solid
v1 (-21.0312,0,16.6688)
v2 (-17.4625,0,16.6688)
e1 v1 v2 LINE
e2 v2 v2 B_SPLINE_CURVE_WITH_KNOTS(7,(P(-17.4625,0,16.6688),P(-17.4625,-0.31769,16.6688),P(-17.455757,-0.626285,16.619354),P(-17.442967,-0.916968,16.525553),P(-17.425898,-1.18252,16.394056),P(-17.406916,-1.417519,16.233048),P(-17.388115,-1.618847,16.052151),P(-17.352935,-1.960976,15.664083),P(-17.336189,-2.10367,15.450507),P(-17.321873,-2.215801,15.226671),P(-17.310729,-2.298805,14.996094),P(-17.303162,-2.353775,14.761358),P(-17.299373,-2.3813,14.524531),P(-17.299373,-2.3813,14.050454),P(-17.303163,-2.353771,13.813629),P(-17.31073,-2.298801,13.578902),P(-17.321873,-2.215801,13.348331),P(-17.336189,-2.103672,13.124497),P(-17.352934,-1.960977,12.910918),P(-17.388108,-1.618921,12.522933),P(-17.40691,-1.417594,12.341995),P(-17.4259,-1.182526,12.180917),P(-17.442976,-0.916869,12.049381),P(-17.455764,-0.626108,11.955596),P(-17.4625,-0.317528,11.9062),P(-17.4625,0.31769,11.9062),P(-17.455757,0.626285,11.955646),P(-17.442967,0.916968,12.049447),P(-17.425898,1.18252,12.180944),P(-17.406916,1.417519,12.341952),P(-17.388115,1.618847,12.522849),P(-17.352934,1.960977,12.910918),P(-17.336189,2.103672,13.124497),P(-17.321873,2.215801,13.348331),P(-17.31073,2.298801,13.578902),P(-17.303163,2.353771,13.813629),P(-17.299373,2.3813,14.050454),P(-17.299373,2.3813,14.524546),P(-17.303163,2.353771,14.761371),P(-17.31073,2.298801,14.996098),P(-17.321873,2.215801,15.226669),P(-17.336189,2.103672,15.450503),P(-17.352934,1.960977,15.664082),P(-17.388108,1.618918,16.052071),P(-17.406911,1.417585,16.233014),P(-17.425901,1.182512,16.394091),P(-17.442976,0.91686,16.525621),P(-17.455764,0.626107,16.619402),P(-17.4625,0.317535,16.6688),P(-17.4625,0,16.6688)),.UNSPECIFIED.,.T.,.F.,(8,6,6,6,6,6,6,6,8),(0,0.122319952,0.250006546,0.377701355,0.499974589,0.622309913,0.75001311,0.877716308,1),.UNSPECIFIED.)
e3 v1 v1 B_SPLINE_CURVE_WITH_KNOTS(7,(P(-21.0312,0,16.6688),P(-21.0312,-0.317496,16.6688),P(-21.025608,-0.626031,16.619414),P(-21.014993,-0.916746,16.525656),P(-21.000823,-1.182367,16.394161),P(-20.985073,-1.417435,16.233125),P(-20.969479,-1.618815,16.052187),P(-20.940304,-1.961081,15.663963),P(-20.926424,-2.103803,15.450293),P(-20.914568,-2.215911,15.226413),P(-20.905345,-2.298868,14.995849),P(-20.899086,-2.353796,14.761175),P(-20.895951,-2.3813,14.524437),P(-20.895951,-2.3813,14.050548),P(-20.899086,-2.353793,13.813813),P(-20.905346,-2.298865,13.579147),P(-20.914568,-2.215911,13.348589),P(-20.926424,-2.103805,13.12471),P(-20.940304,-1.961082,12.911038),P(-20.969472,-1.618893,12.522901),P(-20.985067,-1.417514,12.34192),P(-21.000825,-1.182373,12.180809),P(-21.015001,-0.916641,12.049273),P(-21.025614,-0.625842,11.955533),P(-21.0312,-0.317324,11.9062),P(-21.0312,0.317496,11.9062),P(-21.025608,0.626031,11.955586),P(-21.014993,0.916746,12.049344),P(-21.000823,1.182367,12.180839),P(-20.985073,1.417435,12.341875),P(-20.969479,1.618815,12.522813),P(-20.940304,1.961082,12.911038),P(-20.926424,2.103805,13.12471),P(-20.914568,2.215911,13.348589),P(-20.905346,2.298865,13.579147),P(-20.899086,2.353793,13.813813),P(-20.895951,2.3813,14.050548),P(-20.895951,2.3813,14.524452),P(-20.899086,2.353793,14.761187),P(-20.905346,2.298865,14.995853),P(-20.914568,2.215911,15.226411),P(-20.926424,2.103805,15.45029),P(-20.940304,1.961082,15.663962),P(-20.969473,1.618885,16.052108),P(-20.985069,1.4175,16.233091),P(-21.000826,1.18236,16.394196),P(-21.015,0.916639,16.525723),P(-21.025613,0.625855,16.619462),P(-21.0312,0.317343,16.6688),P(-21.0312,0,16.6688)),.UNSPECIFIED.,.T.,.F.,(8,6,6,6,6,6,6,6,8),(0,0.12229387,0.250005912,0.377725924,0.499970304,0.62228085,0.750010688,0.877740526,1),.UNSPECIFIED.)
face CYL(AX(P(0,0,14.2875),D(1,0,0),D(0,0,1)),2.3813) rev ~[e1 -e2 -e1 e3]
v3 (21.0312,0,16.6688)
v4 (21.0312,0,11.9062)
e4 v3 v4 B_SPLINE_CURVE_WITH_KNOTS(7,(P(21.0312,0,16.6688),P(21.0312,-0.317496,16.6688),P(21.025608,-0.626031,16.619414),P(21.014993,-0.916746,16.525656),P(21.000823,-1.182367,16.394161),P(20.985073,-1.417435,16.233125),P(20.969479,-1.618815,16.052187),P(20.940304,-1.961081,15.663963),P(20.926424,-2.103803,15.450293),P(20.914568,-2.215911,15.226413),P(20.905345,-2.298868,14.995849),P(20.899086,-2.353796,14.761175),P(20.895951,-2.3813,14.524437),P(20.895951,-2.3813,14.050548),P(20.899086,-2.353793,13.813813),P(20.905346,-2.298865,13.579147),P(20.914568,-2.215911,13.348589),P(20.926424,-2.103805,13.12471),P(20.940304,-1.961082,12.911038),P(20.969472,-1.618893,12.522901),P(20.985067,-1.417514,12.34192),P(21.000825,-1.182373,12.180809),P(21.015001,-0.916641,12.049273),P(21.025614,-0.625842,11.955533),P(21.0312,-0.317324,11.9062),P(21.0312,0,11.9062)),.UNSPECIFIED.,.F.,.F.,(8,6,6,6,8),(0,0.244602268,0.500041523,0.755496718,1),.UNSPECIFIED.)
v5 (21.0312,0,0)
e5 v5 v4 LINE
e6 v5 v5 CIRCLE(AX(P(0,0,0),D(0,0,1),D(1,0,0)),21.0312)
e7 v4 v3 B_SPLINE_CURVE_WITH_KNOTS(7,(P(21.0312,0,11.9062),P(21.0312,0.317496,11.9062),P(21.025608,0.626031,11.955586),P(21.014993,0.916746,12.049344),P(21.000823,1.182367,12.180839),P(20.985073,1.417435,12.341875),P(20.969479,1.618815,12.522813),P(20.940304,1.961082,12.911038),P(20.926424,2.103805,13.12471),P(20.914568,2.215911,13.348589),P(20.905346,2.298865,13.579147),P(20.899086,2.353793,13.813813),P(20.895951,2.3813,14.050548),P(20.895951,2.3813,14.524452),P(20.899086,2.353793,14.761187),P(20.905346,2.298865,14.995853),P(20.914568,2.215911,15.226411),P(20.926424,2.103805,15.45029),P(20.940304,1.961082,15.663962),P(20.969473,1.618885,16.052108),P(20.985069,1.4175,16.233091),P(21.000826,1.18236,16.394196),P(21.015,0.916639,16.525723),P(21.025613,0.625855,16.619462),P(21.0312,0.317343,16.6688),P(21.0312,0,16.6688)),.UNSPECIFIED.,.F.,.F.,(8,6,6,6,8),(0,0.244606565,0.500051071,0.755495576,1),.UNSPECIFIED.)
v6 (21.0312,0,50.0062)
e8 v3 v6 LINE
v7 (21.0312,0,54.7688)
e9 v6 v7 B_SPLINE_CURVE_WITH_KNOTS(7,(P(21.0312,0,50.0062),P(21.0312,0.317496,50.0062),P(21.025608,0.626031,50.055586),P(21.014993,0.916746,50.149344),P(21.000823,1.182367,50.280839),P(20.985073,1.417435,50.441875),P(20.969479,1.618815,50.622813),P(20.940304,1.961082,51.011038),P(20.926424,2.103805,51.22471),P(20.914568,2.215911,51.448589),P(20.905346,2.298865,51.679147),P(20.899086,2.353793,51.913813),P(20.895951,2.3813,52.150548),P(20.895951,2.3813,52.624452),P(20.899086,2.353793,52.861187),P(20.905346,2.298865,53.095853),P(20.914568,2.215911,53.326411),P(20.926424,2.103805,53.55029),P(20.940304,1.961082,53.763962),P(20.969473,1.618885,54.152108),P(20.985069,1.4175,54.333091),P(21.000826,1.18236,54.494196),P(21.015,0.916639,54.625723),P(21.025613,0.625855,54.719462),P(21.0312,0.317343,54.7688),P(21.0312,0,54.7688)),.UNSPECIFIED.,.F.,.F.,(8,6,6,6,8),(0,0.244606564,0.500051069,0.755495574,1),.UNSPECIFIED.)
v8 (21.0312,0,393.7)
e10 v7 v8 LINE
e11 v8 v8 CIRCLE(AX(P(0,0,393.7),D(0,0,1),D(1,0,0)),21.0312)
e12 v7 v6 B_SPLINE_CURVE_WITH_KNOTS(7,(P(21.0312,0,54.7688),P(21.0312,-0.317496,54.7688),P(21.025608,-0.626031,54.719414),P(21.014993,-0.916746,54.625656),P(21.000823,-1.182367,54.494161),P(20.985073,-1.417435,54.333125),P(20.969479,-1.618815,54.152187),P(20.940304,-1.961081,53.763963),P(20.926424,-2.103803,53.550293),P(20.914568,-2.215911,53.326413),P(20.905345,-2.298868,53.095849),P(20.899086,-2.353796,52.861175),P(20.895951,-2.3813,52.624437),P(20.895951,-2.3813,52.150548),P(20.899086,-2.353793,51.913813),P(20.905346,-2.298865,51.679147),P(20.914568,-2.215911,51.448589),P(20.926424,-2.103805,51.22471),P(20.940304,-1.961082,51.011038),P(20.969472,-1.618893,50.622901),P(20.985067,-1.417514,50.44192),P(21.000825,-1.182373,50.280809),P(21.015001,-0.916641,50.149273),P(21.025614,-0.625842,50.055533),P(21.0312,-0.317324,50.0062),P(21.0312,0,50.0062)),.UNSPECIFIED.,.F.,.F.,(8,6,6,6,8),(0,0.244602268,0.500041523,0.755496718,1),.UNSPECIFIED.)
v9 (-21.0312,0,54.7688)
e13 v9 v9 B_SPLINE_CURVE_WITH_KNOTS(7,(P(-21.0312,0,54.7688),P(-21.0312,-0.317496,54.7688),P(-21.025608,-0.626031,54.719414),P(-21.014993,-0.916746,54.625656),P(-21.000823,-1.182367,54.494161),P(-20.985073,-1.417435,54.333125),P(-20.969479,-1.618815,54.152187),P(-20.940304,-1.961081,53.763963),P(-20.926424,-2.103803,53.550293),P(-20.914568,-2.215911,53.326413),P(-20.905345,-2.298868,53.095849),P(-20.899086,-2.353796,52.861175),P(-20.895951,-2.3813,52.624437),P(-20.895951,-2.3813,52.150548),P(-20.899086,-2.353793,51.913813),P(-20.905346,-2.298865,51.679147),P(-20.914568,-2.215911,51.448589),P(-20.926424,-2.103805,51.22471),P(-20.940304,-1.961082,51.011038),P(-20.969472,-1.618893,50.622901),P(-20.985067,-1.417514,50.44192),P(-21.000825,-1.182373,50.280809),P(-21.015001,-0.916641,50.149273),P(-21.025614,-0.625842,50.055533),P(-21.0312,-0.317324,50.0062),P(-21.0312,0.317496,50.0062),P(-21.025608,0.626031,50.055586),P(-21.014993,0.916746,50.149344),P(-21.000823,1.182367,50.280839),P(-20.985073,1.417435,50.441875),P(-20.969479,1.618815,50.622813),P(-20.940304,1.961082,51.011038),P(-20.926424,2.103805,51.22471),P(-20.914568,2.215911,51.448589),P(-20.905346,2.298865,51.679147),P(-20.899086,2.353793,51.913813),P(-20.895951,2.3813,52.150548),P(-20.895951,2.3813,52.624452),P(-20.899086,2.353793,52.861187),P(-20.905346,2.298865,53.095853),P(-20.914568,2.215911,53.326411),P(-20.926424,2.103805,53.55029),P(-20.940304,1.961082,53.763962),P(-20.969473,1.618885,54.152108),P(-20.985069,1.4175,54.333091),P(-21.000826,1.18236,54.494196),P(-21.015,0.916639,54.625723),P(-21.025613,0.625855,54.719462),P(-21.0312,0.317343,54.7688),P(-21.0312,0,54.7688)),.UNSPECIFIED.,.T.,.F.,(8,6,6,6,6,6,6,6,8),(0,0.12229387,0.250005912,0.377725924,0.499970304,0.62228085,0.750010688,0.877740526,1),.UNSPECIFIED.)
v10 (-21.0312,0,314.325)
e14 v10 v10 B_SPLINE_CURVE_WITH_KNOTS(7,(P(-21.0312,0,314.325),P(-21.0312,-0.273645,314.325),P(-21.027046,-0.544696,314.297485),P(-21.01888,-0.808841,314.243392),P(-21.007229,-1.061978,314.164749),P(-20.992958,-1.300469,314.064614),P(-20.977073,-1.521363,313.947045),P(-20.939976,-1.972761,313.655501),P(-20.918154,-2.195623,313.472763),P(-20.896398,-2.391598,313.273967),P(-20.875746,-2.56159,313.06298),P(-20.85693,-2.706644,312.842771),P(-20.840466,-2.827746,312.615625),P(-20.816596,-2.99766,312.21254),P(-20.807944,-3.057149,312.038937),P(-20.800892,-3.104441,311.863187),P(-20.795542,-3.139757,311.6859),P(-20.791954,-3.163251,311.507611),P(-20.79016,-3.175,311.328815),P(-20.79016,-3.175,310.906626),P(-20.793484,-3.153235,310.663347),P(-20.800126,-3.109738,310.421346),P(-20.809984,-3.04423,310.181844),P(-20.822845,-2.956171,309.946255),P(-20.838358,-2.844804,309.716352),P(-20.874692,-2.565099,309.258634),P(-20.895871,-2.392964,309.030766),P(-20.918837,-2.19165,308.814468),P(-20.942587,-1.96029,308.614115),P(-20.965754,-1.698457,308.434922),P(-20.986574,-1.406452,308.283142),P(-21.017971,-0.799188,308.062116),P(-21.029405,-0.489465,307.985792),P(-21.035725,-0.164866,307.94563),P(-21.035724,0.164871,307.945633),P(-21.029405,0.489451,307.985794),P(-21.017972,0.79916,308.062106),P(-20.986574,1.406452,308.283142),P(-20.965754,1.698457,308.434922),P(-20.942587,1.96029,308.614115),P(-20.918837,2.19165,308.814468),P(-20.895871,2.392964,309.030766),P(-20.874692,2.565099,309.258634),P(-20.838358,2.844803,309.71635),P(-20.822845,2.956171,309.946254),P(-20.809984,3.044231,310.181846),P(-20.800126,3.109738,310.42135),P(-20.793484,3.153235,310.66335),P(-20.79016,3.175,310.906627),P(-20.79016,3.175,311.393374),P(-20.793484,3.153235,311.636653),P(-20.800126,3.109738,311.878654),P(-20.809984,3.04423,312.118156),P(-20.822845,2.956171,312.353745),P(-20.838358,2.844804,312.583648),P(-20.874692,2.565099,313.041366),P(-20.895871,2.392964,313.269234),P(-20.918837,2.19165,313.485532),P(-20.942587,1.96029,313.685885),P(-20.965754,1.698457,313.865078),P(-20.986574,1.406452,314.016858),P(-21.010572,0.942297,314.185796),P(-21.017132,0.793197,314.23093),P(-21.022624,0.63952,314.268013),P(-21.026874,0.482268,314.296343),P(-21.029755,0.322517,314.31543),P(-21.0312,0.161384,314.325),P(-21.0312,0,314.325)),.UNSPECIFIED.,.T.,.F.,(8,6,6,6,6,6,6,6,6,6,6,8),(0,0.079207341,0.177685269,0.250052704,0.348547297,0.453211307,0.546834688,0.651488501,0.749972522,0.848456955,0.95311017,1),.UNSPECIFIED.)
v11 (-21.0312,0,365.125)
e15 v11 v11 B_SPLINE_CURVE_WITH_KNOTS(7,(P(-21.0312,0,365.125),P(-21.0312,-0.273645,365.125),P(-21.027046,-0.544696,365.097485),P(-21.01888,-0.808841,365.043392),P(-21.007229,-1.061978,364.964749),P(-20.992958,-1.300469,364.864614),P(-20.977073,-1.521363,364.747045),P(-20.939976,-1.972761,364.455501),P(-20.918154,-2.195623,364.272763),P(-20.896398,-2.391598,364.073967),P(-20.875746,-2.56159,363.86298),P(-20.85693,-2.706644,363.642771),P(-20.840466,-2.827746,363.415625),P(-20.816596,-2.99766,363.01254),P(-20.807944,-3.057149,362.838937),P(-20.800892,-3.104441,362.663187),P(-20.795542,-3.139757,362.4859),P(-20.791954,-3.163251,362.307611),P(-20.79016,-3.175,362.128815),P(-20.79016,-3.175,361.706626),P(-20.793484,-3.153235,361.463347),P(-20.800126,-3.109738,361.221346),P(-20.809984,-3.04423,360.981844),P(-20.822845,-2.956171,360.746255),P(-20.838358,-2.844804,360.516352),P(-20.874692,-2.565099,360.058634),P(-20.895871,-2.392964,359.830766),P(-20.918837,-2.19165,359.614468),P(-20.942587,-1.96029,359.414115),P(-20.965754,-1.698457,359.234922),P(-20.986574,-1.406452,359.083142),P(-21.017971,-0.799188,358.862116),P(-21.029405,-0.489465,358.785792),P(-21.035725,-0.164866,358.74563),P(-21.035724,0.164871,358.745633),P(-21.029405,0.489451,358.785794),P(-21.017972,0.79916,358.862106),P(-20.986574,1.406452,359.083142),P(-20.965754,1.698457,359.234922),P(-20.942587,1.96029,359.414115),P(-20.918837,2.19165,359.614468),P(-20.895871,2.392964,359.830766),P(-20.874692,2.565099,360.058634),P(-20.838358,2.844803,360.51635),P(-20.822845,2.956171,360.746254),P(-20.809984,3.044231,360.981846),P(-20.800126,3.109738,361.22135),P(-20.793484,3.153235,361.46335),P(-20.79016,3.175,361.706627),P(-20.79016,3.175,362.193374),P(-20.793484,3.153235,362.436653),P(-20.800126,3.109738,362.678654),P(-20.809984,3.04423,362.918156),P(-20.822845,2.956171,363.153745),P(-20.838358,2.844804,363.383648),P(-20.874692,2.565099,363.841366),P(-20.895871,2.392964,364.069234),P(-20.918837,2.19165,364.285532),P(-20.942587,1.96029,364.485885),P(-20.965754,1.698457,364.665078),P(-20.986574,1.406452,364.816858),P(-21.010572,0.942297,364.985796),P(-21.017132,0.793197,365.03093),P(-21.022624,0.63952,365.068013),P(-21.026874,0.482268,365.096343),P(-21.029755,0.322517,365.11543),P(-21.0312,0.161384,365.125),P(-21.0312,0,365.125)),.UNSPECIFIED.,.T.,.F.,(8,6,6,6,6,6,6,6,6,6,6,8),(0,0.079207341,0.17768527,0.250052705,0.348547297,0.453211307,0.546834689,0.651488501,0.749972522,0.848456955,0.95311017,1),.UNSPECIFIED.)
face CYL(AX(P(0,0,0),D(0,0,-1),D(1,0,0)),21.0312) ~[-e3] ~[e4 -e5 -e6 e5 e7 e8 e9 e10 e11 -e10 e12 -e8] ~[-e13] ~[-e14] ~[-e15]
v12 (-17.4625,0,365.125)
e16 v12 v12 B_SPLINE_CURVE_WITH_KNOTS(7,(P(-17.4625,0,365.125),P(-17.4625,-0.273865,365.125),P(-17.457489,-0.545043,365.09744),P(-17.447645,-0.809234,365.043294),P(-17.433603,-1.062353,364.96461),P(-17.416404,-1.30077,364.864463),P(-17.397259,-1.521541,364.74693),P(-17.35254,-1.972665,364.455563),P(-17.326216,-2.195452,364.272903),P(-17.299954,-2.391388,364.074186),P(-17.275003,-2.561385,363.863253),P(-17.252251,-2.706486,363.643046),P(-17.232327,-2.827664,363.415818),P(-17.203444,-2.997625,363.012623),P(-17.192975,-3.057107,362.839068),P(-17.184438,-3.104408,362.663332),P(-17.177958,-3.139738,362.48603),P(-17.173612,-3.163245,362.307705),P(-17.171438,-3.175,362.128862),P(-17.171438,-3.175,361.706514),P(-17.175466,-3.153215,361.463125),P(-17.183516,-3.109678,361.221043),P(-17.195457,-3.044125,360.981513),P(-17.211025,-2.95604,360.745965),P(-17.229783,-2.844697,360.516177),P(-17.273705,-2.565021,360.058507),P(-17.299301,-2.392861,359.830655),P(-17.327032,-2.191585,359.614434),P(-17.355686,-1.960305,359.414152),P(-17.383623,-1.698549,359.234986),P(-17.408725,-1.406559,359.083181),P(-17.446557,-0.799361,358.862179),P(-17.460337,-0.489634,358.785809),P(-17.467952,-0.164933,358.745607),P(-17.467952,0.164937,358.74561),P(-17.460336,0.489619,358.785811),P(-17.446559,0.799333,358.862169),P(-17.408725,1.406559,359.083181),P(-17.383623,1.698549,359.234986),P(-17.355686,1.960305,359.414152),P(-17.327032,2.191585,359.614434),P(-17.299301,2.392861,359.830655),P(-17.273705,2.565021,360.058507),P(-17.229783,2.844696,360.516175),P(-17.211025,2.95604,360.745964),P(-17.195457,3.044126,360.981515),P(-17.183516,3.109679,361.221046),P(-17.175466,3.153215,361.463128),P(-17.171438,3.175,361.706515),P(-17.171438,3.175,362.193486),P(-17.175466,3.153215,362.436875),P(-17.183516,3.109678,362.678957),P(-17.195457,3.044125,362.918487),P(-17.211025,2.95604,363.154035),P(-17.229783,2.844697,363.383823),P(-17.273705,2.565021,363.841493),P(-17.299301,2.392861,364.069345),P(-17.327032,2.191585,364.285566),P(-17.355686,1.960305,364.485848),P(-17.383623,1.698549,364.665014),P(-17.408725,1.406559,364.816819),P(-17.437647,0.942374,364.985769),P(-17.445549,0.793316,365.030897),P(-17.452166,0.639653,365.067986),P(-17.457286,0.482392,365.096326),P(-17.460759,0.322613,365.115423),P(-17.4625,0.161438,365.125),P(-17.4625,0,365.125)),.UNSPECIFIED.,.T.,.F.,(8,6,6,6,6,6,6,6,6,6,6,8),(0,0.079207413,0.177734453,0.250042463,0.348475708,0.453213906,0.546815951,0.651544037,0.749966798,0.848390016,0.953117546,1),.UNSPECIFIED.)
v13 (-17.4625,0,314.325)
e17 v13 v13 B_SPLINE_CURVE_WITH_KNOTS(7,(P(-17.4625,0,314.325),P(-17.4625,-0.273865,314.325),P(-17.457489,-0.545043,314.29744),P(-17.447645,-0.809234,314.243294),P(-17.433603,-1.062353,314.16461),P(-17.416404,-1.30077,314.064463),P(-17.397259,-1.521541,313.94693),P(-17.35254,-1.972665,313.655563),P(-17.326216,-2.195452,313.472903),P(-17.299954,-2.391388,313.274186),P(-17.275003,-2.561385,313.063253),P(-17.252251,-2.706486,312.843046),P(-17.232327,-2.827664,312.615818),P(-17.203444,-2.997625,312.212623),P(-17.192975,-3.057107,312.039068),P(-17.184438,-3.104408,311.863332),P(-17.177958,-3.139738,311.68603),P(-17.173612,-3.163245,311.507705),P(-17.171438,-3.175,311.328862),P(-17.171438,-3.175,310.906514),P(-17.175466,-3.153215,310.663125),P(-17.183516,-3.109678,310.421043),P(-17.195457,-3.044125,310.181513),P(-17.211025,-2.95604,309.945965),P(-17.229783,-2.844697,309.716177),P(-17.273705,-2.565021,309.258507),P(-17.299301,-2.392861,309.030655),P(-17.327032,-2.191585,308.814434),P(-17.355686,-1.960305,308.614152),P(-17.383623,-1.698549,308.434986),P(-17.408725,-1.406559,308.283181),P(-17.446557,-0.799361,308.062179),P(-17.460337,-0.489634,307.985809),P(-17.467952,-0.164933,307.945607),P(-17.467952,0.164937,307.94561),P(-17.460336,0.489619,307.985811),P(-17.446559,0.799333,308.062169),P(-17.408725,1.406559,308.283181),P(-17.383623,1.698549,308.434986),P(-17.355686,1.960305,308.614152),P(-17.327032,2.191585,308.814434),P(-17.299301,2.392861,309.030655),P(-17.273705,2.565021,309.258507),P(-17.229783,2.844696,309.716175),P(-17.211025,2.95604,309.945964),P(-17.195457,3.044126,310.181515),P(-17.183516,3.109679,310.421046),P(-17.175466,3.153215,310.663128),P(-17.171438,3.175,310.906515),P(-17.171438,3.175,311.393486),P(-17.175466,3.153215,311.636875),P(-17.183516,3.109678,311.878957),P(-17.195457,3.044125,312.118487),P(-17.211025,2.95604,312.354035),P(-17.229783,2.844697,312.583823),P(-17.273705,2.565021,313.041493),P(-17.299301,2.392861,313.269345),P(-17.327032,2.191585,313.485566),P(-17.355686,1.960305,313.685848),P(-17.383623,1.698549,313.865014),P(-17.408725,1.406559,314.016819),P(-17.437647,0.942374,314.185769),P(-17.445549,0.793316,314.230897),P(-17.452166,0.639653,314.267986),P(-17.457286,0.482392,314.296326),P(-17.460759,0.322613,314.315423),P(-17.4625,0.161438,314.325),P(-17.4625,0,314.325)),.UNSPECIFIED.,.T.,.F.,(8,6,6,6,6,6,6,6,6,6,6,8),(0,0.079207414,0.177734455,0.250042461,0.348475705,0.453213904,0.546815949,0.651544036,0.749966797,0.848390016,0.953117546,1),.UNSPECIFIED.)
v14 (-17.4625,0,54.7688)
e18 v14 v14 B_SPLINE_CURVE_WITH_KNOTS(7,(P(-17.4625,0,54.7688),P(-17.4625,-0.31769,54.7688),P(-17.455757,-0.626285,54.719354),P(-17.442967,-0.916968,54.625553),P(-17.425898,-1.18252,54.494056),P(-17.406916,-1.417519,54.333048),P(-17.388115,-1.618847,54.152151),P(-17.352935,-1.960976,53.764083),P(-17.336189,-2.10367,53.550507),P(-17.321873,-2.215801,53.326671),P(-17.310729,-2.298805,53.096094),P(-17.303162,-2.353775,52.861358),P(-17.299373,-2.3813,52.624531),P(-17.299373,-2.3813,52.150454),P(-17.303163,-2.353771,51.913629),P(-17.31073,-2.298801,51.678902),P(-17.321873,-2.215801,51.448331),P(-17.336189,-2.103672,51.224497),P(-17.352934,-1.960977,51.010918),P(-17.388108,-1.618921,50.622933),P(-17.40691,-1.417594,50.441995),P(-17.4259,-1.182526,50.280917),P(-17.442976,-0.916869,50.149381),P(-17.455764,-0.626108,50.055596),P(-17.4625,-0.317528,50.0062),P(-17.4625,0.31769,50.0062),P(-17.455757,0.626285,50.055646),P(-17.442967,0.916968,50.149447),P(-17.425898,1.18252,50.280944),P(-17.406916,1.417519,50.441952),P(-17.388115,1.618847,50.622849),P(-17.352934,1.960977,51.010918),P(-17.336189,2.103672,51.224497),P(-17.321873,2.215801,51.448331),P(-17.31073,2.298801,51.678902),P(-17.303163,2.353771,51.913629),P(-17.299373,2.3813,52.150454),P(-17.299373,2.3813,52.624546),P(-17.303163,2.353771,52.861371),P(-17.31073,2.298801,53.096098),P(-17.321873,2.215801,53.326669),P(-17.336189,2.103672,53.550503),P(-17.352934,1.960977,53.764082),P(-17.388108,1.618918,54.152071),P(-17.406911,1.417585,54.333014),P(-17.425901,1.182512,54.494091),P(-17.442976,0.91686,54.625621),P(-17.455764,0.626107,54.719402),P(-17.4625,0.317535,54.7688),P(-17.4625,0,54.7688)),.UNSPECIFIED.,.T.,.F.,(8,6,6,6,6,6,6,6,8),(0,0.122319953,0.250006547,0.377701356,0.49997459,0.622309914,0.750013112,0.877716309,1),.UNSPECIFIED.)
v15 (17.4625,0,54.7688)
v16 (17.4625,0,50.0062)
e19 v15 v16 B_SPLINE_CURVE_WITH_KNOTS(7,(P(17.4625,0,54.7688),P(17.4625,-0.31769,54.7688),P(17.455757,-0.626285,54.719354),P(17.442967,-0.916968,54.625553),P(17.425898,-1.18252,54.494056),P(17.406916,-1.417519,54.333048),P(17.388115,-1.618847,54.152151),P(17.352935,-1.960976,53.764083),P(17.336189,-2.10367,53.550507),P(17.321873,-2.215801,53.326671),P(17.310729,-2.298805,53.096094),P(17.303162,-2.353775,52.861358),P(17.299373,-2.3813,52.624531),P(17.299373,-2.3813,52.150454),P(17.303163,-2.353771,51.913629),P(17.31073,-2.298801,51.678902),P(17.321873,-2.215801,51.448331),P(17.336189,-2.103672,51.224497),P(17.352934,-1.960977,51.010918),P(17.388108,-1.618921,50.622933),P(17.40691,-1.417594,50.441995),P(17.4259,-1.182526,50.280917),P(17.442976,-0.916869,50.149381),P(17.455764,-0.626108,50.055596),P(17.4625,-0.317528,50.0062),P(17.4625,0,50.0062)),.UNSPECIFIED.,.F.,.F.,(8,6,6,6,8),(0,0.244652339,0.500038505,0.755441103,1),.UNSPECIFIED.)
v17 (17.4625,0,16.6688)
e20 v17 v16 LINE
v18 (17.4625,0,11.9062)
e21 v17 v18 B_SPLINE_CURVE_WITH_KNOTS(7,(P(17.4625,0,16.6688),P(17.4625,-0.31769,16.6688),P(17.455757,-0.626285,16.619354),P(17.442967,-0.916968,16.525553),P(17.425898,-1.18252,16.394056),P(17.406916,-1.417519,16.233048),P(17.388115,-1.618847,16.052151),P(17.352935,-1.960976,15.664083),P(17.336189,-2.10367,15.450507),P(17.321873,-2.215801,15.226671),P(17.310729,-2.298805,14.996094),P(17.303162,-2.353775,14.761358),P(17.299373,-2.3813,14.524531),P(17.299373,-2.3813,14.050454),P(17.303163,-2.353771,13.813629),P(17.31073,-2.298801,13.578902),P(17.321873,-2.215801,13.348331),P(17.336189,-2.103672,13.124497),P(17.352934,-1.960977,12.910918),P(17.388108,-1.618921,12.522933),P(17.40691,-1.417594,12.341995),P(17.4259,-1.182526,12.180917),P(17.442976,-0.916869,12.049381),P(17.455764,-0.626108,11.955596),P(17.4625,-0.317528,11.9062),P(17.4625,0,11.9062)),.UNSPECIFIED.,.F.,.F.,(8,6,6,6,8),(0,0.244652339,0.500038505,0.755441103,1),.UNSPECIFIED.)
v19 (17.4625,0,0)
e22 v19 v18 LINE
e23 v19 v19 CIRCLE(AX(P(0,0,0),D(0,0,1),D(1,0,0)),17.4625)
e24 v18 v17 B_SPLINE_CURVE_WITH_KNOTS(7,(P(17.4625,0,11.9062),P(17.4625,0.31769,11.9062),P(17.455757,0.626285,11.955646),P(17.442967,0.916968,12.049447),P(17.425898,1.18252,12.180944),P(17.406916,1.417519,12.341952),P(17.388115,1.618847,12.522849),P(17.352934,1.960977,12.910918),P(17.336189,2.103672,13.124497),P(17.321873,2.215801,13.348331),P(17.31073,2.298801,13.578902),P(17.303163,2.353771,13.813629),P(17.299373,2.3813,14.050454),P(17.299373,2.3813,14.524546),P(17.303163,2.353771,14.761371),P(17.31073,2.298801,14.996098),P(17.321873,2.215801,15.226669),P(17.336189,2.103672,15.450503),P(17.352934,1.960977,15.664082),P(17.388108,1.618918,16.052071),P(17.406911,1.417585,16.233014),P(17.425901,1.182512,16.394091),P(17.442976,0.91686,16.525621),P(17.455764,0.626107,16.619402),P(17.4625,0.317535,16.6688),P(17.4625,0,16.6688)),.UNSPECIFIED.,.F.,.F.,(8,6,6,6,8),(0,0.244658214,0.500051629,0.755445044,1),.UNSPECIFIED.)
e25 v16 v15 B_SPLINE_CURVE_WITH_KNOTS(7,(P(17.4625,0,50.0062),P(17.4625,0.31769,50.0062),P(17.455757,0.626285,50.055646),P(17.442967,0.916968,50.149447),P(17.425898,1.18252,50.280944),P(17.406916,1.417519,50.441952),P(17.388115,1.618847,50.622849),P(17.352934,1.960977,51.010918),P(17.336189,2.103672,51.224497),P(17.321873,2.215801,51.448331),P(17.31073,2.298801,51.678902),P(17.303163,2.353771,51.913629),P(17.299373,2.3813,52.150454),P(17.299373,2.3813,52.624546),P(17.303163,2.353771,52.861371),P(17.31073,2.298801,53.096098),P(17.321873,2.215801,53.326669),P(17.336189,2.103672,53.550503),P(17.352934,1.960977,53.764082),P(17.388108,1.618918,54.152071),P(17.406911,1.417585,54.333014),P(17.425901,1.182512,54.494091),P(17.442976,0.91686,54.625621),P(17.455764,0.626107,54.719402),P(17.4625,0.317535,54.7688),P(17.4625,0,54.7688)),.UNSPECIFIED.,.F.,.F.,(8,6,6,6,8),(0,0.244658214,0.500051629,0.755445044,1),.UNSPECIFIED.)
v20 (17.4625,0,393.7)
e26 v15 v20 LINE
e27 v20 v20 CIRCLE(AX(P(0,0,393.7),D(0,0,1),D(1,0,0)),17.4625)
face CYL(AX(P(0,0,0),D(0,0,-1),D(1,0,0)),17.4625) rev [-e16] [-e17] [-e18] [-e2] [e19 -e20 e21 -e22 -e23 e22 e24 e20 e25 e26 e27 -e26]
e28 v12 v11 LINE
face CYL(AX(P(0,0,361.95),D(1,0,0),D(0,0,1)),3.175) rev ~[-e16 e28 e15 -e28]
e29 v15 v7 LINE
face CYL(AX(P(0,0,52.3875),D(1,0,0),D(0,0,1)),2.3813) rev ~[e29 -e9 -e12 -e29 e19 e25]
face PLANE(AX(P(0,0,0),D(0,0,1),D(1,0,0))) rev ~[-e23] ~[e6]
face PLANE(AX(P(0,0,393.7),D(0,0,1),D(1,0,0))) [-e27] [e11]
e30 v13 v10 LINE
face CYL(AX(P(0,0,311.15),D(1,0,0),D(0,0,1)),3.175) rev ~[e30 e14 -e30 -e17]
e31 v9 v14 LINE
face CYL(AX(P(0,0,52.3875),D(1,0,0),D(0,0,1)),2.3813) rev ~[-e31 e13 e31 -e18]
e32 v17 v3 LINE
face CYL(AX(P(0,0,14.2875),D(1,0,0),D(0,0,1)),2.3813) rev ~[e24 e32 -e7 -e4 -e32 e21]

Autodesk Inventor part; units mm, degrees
ref_plane "XZ Plane" through (0, 0, 0) normal (0, 1, 0) x (-1, 0, 0)
ref_plane "XY Plane" through (0, 0, 0) normal (0, 0, 1) x (1, 0, 0)
sketch "Sketch1" plane through (0, 0, 0) normal (0, 0, 1) x (1, 0, 0)
  circle A0 centre (0, 0) radius 21.0312
  circle A1 centre (0, 0) radius 17.4625
  dimension "d0" = 34.925
  dimension "d1" = 42.0624
extrude "Extrusion1" add sketch "Sketch1" along normal blind 393.7
ref_plane "Work Plane1" through (0, 0, 0) normal (1, 0, 0) x (0, 0, 1)
sketch "Sketch2" plane through (0, 0, 0) normal (1, 0, 0) x (0, 0, 1)
  line L0 (-78.74, 0) -> (472.44, 0) projected
  line L1 (0, -21.0312) -> (393.7, -21.0312) projected
  line L2 (0, 21.0312) -> (393.7, 21.0312) projected
  line L3 (0, -17.4625) -> (0, 17.4625) projected
  line L4 (0, 21.0312) -> (0, -21.0312) projected
  circle A0 centre (14.2875, 0) radius 2.3813
  circle A1 centre (52.3875, 0) radius 2.3813
  line L5 (393.7, 21.0312) -> (393.7, -21.0312) projected
  circle A2 centre (311.15, 0) radius 3.175
  circle A3 centre (361.95, 0) radius 3.175
  dimension "d5" = 14.2875
  dimension "d6" = 38.1
  dimension "d7" = 4.7625
  dimension "d10" = 6.35
  dimension "d11" = 6.35
  dimension "d12" = 50.8
  dimension "d13" = 31.75
extrude "Extrusion2" cut sketch "Sketch2" against normal mid plane 393.7 contours A0 L0 | L0 A0 | A1 L0 | L0 A1
extrude "Extrusion3" cut sketch "Sketch2" against normal through all contours A2 L0 | L0 A2 | A3 L0 | L0 A3
properties part number "FE-00006-05"
